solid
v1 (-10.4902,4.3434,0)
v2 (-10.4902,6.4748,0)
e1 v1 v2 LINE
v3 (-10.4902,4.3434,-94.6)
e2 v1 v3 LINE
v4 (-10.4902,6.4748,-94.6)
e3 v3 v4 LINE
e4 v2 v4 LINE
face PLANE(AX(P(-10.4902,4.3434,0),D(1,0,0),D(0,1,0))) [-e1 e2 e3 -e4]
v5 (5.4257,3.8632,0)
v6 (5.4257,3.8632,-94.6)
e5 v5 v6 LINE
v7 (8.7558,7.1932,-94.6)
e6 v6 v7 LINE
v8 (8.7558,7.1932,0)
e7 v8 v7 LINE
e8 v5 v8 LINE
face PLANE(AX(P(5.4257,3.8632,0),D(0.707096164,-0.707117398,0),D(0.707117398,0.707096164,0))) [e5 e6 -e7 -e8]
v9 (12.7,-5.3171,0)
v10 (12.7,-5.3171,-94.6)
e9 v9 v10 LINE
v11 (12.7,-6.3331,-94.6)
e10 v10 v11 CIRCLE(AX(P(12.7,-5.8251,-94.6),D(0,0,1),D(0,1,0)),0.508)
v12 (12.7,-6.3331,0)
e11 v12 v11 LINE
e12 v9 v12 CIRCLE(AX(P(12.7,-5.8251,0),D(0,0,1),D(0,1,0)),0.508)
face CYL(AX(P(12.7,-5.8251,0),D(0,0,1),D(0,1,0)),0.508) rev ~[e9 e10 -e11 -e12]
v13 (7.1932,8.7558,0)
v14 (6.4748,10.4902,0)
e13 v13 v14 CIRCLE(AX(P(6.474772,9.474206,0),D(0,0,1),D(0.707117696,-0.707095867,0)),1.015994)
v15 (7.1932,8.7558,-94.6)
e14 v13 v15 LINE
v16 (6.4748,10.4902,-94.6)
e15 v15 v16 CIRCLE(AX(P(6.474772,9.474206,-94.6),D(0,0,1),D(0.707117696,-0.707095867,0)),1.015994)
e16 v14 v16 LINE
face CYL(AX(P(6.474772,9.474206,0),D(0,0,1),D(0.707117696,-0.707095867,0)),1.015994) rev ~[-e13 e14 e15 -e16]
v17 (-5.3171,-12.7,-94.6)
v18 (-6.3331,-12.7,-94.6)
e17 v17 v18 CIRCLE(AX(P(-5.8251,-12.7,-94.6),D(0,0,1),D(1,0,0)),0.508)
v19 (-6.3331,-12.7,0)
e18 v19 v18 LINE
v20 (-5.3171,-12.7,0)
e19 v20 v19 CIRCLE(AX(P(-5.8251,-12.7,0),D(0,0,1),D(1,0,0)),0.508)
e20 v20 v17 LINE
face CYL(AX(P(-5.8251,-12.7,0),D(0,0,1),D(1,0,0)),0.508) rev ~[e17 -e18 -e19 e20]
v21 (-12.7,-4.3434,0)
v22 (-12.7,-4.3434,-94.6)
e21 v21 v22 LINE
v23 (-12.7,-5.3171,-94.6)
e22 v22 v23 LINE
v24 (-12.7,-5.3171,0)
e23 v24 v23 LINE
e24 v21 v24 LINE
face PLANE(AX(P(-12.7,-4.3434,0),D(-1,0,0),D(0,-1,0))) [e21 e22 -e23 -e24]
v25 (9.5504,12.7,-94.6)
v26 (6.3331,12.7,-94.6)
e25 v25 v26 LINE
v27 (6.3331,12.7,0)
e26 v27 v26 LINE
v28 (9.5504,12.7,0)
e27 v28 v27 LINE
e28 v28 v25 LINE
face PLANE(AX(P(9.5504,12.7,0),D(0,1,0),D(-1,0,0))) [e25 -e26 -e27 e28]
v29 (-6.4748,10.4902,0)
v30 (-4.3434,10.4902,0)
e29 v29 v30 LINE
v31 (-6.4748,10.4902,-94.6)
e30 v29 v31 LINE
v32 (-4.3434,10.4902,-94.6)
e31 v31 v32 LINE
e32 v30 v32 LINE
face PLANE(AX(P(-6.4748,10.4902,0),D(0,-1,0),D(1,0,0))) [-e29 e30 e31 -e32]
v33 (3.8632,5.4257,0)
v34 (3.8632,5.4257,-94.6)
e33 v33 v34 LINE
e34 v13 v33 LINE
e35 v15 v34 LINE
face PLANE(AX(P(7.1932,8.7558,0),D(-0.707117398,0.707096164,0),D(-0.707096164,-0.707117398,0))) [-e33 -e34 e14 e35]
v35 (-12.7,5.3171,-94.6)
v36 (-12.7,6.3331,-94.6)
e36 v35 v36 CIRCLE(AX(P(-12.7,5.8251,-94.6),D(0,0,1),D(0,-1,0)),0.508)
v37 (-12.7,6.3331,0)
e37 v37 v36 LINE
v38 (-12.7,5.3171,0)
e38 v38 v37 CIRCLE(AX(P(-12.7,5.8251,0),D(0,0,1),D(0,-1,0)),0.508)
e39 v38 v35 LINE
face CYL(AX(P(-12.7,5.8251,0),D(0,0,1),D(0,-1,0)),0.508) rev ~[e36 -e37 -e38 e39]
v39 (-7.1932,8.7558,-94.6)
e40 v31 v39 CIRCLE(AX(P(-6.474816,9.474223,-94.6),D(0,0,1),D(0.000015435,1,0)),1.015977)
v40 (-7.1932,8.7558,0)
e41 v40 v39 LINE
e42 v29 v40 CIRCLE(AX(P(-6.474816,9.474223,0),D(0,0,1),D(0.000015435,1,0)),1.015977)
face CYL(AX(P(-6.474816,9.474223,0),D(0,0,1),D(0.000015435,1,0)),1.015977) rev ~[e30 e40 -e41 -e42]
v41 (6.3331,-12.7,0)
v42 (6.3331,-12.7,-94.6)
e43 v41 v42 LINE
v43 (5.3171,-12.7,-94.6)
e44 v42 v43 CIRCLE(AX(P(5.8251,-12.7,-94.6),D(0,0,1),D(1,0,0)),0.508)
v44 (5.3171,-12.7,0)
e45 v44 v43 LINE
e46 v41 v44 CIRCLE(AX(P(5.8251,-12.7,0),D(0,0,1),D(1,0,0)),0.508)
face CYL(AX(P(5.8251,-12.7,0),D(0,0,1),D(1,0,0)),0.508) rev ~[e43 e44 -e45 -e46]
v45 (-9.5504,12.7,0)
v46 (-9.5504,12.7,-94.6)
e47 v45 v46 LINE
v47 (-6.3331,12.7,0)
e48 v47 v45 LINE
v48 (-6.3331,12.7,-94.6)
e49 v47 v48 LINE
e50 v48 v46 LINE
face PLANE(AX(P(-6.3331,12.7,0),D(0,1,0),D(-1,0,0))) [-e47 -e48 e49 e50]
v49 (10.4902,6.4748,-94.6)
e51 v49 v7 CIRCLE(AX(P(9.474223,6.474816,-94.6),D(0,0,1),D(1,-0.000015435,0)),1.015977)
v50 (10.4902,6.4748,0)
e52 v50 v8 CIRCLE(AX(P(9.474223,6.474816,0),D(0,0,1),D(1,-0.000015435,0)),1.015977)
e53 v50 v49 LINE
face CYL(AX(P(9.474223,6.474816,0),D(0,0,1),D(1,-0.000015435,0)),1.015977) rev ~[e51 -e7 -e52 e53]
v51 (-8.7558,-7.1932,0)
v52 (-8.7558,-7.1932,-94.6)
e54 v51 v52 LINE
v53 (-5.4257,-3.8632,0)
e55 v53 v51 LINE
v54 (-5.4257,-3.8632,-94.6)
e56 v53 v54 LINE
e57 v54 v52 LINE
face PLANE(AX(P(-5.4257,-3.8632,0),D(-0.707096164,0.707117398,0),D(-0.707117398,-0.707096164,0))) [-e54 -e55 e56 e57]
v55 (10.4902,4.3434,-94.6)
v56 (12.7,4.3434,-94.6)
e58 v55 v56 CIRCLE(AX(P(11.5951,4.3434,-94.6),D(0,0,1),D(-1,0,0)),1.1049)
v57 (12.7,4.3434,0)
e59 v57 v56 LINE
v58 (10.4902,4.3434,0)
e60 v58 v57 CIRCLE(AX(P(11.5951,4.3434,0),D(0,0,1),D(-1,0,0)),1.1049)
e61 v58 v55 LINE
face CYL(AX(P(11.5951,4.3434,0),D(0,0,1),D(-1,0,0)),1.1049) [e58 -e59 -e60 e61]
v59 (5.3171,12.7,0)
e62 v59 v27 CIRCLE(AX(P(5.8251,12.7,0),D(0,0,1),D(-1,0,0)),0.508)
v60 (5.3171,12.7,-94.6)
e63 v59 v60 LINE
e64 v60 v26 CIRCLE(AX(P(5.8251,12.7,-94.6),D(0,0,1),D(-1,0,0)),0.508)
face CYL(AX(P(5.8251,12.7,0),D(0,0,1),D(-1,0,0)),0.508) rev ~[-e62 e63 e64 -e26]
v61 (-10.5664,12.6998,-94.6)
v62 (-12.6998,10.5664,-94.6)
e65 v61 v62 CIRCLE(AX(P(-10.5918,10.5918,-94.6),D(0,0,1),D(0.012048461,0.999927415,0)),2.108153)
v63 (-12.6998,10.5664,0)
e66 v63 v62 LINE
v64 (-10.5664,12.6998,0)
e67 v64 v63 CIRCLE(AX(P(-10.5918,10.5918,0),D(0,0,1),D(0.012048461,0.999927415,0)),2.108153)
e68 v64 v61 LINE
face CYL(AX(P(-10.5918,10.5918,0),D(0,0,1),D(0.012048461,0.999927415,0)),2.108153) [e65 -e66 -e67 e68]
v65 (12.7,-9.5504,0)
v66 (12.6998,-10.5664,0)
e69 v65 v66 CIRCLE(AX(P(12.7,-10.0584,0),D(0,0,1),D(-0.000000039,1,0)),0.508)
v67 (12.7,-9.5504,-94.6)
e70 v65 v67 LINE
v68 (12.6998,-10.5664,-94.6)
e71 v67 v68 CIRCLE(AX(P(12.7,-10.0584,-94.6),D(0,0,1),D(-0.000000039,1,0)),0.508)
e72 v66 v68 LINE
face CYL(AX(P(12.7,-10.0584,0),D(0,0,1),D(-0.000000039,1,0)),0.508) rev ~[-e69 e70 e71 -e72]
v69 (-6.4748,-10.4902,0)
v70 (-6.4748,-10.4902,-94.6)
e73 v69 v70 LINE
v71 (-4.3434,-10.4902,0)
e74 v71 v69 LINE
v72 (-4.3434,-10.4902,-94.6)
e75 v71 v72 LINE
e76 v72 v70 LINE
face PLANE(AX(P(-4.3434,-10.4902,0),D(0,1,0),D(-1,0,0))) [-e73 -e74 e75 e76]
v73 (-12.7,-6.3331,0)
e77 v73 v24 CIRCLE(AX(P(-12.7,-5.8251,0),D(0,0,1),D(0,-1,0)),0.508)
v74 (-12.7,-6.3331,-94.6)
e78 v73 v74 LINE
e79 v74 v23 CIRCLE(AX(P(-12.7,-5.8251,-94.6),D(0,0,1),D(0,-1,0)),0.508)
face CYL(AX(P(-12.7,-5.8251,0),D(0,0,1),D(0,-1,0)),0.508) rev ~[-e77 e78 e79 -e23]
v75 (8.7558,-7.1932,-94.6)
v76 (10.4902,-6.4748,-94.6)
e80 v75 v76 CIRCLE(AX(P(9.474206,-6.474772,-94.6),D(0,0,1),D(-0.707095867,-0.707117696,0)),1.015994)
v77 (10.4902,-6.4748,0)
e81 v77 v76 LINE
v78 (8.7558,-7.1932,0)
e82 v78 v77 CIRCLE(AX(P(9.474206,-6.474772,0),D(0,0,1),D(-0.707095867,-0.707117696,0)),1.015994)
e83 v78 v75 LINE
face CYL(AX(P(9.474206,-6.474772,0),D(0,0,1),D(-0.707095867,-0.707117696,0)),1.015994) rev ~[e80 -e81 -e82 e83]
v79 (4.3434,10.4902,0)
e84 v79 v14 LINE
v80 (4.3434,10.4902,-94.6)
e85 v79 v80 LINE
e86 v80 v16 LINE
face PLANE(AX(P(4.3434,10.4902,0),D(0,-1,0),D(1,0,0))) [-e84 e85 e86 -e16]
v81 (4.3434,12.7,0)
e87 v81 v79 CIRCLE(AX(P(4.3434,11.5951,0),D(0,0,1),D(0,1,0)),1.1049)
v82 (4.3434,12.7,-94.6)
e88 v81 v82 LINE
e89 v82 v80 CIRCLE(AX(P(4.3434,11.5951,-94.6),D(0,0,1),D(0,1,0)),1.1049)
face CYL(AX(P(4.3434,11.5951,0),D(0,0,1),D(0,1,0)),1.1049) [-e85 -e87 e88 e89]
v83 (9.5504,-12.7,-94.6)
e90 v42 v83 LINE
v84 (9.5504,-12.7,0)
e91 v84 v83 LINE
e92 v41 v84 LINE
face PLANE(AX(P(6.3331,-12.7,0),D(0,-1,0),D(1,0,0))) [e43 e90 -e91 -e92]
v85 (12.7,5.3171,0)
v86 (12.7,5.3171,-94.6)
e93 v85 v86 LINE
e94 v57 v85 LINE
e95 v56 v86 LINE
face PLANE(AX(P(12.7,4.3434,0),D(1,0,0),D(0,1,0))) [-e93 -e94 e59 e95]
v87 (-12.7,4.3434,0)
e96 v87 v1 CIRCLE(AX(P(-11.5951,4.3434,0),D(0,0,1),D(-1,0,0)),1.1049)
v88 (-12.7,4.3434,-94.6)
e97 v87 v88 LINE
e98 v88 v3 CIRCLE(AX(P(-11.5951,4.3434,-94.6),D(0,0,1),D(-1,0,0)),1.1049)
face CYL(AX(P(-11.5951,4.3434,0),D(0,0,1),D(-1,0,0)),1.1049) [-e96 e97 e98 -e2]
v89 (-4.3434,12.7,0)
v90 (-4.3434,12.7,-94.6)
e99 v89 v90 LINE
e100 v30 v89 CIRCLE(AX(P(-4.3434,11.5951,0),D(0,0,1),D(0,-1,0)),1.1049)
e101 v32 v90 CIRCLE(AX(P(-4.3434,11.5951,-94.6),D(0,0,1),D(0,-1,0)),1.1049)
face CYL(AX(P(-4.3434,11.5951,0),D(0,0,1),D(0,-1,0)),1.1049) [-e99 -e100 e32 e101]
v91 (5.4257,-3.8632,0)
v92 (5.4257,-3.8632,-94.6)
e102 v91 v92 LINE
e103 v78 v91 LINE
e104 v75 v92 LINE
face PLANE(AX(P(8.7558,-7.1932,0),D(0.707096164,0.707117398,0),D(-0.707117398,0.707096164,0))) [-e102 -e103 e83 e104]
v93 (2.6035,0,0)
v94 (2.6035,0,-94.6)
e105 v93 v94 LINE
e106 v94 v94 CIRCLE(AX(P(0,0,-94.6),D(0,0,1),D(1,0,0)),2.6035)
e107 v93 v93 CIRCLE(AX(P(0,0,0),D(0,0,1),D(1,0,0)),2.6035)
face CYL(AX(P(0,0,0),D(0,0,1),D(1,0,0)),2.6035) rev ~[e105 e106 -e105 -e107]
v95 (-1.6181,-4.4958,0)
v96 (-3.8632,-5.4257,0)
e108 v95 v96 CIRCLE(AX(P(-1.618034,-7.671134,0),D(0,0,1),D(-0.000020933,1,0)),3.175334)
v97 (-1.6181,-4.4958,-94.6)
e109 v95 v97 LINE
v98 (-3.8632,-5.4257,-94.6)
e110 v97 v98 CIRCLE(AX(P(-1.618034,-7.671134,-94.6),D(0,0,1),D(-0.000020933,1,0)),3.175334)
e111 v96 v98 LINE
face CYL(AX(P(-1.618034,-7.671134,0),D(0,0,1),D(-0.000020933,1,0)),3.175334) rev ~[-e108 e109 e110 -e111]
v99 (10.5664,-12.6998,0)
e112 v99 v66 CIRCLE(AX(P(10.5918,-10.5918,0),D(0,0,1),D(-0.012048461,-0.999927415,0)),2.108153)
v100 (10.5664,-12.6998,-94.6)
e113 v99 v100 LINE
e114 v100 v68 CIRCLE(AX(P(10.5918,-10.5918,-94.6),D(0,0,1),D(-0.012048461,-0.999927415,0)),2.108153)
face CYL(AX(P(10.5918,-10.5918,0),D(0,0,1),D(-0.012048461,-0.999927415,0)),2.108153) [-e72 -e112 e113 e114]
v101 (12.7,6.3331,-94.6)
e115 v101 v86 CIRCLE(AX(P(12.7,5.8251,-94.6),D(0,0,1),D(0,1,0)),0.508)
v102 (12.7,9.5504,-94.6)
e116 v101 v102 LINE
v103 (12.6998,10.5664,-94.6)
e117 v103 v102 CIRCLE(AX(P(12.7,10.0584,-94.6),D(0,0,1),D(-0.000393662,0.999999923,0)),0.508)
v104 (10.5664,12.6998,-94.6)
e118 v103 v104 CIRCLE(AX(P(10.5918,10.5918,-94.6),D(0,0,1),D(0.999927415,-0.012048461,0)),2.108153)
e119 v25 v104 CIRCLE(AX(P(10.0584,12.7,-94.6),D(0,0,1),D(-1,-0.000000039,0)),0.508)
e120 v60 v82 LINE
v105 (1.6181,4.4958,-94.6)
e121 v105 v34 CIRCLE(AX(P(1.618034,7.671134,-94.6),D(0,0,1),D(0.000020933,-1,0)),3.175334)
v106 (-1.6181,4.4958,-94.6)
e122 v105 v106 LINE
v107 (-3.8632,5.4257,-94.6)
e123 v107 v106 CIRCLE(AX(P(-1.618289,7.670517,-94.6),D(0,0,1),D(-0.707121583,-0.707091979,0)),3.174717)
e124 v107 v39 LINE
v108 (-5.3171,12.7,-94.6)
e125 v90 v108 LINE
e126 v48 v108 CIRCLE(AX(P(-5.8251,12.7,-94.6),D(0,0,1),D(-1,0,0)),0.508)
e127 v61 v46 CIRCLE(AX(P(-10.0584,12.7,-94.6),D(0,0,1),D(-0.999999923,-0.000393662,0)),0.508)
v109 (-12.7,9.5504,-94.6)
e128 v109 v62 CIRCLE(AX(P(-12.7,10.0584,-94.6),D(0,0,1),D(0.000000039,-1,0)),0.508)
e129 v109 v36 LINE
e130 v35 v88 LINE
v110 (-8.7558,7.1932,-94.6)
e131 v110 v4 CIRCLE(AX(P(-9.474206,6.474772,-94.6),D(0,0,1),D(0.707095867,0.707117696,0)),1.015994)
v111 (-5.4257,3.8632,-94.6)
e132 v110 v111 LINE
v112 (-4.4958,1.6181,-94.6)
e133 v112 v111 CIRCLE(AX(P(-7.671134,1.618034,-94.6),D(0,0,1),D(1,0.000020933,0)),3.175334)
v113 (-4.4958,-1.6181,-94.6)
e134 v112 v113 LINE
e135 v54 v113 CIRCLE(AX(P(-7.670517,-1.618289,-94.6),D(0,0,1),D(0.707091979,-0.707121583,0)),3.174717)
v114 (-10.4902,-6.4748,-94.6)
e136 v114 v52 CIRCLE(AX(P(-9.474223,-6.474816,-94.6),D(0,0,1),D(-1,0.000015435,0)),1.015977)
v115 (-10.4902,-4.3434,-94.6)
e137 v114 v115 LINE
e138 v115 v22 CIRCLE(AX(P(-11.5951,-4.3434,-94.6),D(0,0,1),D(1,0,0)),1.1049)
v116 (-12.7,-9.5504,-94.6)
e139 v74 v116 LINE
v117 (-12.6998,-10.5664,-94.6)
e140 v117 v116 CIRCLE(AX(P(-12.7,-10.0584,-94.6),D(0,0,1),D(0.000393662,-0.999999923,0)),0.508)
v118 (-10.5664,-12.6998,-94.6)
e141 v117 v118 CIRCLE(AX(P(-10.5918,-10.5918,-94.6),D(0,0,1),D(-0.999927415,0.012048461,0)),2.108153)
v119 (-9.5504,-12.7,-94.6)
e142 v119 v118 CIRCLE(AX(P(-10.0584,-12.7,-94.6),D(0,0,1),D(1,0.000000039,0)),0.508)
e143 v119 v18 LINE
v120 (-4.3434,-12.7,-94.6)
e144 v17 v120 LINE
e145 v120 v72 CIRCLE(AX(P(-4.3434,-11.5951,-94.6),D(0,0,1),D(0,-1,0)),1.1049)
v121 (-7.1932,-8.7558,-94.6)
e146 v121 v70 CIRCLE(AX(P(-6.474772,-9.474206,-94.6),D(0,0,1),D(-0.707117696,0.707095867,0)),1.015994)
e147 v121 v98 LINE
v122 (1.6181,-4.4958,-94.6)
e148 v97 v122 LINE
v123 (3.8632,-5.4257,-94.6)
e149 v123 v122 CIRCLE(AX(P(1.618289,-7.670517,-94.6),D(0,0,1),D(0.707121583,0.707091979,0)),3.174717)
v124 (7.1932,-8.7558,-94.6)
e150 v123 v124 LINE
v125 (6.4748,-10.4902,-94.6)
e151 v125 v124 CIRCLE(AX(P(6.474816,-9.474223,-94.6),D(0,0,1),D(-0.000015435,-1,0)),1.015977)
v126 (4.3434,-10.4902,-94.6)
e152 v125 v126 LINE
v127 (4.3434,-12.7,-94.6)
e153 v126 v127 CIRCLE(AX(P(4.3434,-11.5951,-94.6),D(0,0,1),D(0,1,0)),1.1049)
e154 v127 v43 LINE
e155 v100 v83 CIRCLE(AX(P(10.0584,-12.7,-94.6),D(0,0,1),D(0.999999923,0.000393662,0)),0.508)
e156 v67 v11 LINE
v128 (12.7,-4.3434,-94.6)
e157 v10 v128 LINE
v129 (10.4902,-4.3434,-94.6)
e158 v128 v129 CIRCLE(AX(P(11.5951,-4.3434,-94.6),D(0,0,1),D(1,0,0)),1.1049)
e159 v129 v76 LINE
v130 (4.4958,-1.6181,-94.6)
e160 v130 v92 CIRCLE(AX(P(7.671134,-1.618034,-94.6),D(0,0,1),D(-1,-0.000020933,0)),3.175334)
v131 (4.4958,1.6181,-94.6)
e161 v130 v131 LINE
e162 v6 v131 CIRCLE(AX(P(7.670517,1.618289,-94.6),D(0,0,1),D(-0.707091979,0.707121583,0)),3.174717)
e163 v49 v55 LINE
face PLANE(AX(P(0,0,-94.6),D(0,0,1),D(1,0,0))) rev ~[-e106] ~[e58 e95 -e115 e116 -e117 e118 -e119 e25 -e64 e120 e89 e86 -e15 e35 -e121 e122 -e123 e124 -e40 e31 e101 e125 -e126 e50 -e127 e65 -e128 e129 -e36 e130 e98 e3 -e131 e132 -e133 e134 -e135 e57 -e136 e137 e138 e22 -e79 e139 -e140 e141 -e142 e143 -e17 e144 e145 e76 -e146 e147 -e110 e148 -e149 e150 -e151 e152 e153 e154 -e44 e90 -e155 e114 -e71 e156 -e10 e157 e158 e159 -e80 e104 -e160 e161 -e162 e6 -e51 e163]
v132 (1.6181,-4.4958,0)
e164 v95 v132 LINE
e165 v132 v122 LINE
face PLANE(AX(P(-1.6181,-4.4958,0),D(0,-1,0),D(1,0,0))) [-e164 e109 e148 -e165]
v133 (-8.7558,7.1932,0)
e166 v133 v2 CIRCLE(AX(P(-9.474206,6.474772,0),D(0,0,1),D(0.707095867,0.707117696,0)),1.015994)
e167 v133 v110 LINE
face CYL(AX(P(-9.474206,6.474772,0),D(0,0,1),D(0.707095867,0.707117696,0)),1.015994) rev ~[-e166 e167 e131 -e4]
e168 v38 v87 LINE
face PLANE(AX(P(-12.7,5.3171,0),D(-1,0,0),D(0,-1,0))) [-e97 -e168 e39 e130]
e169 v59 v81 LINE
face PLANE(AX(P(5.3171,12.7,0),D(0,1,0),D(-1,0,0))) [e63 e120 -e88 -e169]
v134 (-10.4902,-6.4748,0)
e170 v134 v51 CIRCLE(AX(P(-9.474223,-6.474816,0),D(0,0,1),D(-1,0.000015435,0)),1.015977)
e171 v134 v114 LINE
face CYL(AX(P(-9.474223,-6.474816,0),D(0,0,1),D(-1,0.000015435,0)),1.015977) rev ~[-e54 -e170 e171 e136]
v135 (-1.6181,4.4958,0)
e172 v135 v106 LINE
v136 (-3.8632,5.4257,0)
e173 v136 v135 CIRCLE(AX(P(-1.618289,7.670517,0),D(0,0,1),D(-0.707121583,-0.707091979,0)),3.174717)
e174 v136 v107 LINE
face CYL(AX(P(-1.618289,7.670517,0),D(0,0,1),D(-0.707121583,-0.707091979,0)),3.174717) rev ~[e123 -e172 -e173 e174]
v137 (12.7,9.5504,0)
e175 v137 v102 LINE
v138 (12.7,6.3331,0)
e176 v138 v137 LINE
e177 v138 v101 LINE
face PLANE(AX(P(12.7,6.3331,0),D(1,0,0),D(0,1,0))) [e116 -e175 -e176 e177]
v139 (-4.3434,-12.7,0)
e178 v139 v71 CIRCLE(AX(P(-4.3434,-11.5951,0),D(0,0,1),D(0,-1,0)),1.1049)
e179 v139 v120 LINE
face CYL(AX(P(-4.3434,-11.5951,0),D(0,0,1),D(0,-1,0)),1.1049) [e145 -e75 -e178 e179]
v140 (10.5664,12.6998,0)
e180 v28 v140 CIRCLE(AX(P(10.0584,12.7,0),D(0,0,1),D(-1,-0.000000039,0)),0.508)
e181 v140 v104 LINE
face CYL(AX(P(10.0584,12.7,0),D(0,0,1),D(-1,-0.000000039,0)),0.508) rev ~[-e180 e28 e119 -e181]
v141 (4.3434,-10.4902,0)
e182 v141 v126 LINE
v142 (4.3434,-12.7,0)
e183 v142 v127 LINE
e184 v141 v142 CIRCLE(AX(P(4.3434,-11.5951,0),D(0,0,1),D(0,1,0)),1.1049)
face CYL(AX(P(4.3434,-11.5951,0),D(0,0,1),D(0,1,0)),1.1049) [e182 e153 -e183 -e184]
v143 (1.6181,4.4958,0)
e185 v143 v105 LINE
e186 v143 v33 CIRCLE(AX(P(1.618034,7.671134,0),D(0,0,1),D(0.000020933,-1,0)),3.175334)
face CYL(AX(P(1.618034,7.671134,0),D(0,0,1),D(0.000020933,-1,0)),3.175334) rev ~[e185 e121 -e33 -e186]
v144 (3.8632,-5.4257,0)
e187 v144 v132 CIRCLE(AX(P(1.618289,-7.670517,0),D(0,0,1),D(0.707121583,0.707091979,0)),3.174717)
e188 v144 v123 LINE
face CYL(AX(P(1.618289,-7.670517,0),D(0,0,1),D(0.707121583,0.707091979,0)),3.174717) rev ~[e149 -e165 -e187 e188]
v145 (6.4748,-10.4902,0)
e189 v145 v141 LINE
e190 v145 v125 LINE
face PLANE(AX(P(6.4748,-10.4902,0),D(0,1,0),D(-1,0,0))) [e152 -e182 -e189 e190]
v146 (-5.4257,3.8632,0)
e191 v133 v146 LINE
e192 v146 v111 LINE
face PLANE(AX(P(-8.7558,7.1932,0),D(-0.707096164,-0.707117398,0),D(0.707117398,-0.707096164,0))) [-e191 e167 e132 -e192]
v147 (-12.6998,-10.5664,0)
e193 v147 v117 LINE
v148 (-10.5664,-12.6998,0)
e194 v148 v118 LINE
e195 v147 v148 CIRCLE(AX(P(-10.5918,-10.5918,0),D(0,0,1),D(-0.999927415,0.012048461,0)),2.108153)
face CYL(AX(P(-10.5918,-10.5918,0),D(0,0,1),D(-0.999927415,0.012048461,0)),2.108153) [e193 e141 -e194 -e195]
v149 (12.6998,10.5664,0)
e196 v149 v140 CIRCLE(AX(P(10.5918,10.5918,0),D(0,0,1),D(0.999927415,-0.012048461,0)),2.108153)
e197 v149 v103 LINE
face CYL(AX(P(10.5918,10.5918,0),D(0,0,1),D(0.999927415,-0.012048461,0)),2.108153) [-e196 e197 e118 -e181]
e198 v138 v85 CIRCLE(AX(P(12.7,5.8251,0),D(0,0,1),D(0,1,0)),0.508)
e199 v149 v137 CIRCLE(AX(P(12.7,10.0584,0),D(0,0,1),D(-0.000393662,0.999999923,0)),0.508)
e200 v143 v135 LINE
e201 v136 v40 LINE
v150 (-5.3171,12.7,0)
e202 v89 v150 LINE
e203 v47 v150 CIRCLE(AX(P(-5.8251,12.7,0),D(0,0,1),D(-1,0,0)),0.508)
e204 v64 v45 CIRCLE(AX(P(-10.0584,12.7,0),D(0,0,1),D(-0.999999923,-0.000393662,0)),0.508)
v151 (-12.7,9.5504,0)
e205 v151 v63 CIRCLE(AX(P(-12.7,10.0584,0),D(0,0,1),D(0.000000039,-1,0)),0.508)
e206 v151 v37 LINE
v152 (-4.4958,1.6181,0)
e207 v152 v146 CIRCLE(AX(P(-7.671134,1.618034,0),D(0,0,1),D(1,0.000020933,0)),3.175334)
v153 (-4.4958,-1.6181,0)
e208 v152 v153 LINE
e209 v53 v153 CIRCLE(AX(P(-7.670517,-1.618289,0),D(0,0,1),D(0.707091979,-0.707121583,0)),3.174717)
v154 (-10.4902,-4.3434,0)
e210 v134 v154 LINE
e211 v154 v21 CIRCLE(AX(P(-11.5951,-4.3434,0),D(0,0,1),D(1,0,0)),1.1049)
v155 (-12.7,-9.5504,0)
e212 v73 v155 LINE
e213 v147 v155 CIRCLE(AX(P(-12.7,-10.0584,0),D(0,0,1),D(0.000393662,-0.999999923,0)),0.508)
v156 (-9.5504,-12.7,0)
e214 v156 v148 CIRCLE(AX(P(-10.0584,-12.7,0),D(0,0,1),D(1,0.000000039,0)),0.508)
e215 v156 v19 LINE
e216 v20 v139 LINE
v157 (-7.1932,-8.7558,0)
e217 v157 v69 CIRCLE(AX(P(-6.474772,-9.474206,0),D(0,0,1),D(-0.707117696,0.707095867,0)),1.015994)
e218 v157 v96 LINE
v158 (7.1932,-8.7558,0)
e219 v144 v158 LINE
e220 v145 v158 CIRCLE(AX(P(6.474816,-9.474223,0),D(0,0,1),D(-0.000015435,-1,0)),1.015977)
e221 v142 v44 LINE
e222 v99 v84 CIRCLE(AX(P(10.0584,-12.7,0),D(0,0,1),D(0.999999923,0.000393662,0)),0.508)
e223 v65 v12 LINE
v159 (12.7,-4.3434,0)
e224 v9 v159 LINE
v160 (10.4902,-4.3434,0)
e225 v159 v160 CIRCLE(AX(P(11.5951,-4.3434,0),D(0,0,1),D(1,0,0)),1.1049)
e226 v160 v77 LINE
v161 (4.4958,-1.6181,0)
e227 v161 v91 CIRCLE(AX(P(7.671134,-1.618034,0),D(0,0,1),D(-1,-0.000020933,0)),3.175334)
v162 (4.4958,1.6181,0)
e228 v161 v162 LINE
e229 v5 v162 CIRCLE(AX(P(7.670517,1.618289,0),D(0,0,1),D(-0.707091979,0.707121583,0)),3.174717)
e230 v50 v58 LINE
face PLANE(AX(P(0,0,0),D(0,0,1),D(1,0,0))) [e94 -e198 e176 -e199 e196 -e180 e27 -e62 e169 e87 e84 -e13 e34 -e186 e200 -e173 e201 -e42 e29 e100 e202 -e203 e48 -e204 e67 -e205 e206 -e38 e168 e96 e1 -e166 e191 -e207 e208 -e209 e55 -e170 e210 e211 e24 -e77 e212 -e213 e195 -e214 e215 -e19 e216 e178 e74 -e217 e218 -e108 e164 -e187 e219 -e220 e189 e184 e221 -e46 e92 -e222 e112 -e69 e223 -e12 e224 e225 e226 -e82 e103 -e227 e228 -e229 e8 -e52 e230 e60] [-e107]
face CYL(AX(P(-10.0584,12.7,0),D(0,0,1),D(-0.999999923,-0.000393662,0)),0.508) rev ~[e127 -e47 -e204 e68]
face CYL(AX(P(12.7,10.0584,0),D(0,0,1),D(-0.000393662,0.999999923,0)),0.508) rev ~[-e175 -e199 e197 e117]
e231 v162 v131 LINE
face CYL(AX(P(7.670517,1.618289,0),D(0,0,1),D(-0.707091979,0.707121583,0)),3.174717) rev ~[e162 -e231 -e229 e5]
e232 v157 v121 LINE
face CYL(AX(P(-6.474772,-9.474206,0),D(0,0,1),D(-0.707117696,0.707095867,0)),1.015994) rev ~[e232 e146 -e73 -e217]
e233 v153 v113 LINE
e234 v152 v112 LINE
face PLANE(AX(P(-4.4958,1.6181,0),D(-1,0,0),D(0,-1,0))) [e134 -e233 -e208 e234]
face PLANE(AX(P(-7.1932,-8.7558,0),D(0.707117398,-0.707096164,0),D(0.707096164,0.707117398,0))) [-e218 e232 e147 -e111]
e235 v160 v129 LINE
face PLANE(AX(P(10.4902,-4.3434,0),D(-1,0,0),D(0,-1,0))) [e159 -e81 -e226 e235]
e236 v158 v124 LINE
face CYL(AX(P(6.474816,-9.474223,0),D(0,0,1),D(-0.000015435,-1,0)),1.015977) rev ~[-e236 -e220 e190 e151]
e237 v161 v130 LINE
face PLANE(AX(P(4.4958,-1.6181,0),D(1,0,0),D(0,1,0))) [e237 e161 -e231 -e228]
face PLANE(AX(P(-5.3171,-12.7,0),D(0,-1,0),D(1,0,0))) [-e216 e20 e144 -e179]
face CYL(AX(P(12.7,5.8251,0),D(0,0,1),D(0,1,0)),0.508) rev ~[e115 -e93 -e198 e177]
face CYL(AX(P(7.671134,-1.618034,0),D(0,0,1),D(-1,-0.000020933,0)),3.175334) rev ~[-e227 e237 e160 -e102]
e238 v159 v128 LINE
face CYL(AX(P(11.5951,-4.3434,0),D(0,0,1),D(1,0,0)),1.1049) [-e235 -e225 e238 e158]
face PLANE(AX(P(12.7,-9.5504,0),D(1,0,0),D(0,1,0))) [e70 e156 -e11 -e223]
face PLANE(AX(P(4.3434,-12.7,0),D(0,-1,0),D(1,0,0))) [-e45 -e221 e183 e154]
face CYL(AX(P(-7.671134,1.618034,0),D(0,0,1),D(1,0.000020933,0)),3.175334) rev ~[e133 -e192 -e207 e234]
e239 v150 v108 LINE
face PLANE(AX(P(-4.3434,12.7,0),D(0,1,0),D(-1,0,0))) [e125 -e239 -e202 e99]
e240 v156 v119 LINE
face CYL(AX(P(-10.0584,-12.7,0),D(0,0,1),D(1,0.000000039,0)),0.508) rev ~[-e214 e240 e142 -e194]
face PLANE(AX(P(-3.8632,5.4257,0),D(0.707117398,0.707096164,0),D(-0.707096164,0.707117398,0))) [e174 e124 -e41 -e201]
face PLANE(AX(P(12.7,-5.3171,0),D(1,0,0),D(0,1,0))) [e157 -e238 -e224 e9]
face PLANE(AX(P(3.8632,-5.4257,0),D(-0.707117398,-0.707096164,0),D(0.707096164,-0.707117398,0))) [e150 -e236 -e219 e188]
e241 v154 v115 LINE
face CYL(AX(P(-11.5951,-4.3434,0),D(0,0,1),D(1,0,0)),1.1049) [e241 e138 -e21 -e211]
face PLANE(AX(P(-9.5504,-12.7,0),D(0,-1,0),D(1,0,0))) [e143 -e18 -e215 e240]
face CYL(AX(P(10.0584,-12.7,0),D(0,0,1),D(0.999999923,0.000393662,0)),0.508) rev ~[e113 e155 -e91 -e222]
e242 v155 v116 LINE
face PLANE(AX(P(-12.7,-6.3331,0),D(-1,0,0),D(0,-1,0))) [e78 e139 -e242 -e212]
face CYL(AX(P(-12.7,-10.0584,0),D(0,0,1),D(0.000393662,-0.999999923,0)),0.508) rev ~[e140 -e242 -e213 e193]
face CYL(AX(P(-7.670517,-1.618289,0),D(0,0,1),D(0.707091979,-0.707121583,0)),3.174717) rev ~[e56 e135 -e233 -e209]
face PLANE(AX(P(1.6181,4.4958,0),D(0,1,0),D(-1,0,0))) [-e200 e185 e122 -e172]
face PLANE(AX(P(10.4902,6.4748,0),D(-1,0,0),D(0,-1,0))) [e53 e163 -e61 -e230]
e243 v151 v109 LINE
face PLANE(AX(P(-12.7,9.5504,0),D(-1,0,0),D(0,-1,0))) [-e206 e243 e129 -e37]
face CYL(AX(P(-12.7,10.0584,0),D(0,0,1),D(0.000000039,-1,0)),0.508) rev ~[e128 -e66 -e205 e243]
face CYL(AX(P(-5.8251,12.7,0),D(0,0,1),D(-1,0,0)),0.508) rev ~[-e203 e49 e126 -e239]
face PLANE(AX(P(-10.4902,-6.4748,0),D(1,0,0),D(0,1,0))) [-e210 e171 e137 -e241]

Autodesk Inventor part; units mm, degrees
sketch "Sketch_1" plane through (0, 0, 0) normal (0, 0, 1) x (1, 0, 0)
  arc A0 (-12.6998, -10.5664) -> (-10.5664, -12.6998) centre (-10.5918, -10.5918) ccw
  arc A1 (-9.5504, -12.7) -> (-10.5664, -12.6998) centre (-10.0584, -12.7) ccw
  line L0 (-9.5504, -12.7) -> (-6.3331, -12.7)
  arc A2 (-5.3171, -12.7) -> (-6.3331, -12.7) centre (-5.8251, -12.7) ccw
  line L1 (-5.3171, -12.7) -> (-4.3434, -12.7)
  arc A3 (-4.3434, -12.7) -> (-4.3434, -10.4902) centre (-4.3434, -11.5951) ccw
  line L2 (-4.3434, -10.4902) -> (-6.4748, -10.4902)
  arc A4 (-7.1932, -8.7558) -> (-6.4748, -10.4902) centre (-6.4748, -9.4742) ccw
  line L3 (-7.1932, -8.7558) -> (-3.8632, -5.4257)
  arc A5 (-1.6181, -4.4958) -> (-3.8632, -5.4257) centre (-1.6181, -7.6708) ccw
  line L4 (-1.6181, -4.4958) -> (1.6181, -4.4958)
  arc A6 (3.8632, -5.4257) -> (1.6181, -4.4958) centre (1.6181, -7.6708) ccw
  line L5 (3.8632, -5.4257) -> (7.1932, -8.7558)
  arc A7 (6.4748, -10.4902) -> (7.1932, -8.7558) centre (6.4748, -9.4742) ccw
  line L6 (6.4748, -10.4902) -> (4.3434, -10.4902)
  arc A8 (4.3434, -10.4902) -> (4.3434, -12.7) centre (4.3434, -11.5951) ccw
  line L7 (4.3434, -12.7) -> (5.3171, -12.7)
  arc A9 (6.3331, -12.7) -> (5.3171, -12.7) centre (5.8251, -12.7) ccw
  line L8 (6.3331, -12.7) -> (9.5504, -12.7)
  arc A10 (10.5664, -12.6998) -> (9.5504, -12.7) centre (10.0584, -12.7) ccw
  arc A11 (10.5664, -12.6998) -> (12.6998, -10.5664) centre (10.5918, -10.5918) ccw
  arc A12 (12.7, -9.5504) -> (12.6998, -10.5664) centre (12.7, -10.0584) ccw
  line L9 (12.7, -9.5504) -> (12.7, -6.3331)
  arc A13 (12.7, -5.3171) -> (12.7, -6.3331) centre (12.7, -5.8251) ccw
  line L10 (12.7, -5.3171) -> (12.7, -4.3434)
  arc A14 (12.7, -4.3434) -> (10.4902, -4.3434) centre (11.5951, -4.3434) ccw
  line L11 (10.4902, -4.3434) -> (10.4902, -6.4748)
  arc A15 (8.7558, -7.1932) -> (10.4902, -6.4748) centre (9.4742, -6.4748) ccw
  line L12 (8.7558, -7.1932) -> (5.4257, -3.8632)
  arc A16 (4.4958, -1.6181) -> (5.4257, -3.8632) centre (7.6708, -1.6181) ccw
  line L13 (4.4958, -1.6181) -> (4.4958, 1.6181)
  arc A17 (5.4257, 3.8632) -> (4.4958, 1.6181) centre (7.6708, 1.6181) ccw
  line L14 (5.4257, 3.8632) -> (8.7558, 7.1932)
  arc A18 (10.4902, 6.4748) -> (8.7558, 7.1932) centre (9.4742, 6.4748) ccw
  line L15 (10.4902, 6.4748) -> (10.4902, 4.3434)
  arc A19 (10.4902, 4.3434) -> (12.7, 4.3434) centre (11.5951, 4.3434) ccw
  line L16 (12.7, 4.3434) -> (12.7, 5.3171)
  arc A20 (12.7, 6.3331) -> (12.7, 5.3171) centre (12.7, 5.8251) ccw
  line L17 (12.7, 6.3331) -> (12.7, 9.5504)
  arc A21 (12.6998, 10.5664) -> (12.7, 9.5504) centre (12.7, 10.0584) ccw
  arc A22 (12.6998, 10.5664) -> (10.5664, 12.6998) centre (10.5918, 10.5918) ccw
  arc A23 (9.5504, 12.7) -> (10.5664, 12.6998) centre (10.0584, 12.7) ccw
  line L18 (9.5504, 12.7) -> (6.3331, 12.7)
  arc A24 (5.3171, 12.7) -> (6.3331, 12.7) centre (5.8251, 12.7) ccw
  line L19 (5.3171, 12.7) -> (4.3434, 12.7)
  arc A25 (4.3434, 12.7) -> (4.3434, 10.4902) centre (4.3434, 11.5951) ccw
  line L20 (4.3434, 10.4902) -> (6.4748, 10.4902)
  arc A26 (7.1932, 8.7558) -> (6.4748, 10.4902) centre (6.4748, 9.4742) ccw
  line L21 (7.1932, 8.7558) -> (3.8632, 5.4257)
  arc A27 (1.6181, 4.4958) -> (3.8632, 5.4257) centre (1.6181, 7.6708) ccw
  line L22 (1.6181, 4.4958) -> (-1.6181, 4.4958)
  arc A28 (-3.8632, 5.4257) -> (-1.6181, 4.4958) centre (-1.6181, 7.6708) ccw
  line L23 (-3.8632, 5.4257) -> (-7.1932, 8.7558)
  arc A29 (-6.4748, 10.4902) -> (-7.1932, 8.7558) centre (-6.4748, 9.4742) ccw
  line L24 (-6.4748, 10.4902) -> (-4.3434, 10.4902)
  arc A30 (-4.3434, 10.4902) -> (-4.3434, 12.7) centre (-4.3434, 11.5951) ccw
  line L25 (-4.3434, 12.7) -> (-5.3171, 12.7)
  arc A31 (-6.3331, 12.7) -> (-5.3171, 12.7) centre (-5.8251, 12.7) ccw
  line L26 (-6.3331, 12.7) -> (-9.5504, 12.7)
  arc A32 (-10.5664, 12.6998) -> (-9.5504, 12.7) centre (-10.0584, 12.7) ccw
  arc A33 (-10.5664, 12.6998) -> (-12.6998, 10.5664) centre (-10.5918, 10.5918) ccw
  arc A34 (-12.7, 9.5504) -> (-12.6998, 10.5664) centre (-12.7, 10.0584) ccw
  line L27 (-12.7, 9.5504) -> (-12.7, 6.3331)
  arc A35 (-12.7, 5.3171) -> (-12.7, 6.3331) centre (-12.7, 5.8251) ccw
  line L28 (-12.7, 5.3171) -> (-12.7, 4.3434)
  arc A36 (-12.7, 4.3434) -> (-10.4902, 4.3434) centre (-11.5951, 4.3434) ccw
  line L29 (-10.4902, 4.3434) -> (-10.4902, 6.4748)
  arc A37 (-8.7558, 7.1932) -> (-10.4902, 6.4748) centre (-9.4742, 6.4748) ccw
  line L30 (-8.7558, 7.1932) -> (-5.4257, 3.8632)
  arc A38 (-4.4958, 1.6181) -> (-5.4257, 3.8632) centre (-7.6708, 1.6181) ccw
  line L31 (-4.4958, 1.6181) -> (-4.4958, -1.6181)
  arc A39 (-5.4257, -3.8632) -> (-4.4958, -1.6181) centre (-7.6708, -1.6181) ccw
  line L32 (-5.4257, -3.8632) -> (-8.7558, -7.1932)
  arc A40 (-10.4902, -6.4748) -> (-8.7558, -7.1932) centre (-9.4742, -6.4748) ccw
  line L33 (-10.4902, -6.4748) -> (-10.4902, -4.3434)
  arc A41 (-10.4902, -4.3434) -> (-12.7, -4.3434) centre (-11.5951, -4.3434) ccw
  line L34 (-12.7, -4.3434) -> (-12.7, -5.3171)
  arc A42 (-12.7, -6.3331) -> (-12.7, -5.3171) centre (-12.7, -5.8251) ccw
  line L35 (-12.7, -6.3331) -> (-12.7, -9.5504)
  arc A43 (-12.6998, -10.5664) -> (-12.7, -9.5504) centre (-12.7, -10.0584) ccw
  circle A44 centre (0, 0) radius 2.6035
extrude "Extrusion1" add sketch "Sketch_1" against normal blind 94.6
ref_plane "b1_XY" through (-12.7, 0, -12.7) normal (1, 0, 0) x (0, 0, -1)
ref_plane "b1_YZ" through (-12.7, 0, -12.7) normal (0, 0, -1) x (0, 1, 0)
ref_plane "b1_ZX" through (-12.7, 0, -12.7) normal (0, 1, 0) x (1, 0, 0)
ref_plane "b2_XY" through (12.7, 0, -12.7) normal (1, 0, 0) x (0, 0, -1)
ref_plane "b2_YZ" through (12.7, 0, -12.7) normal (0, 0, -1) x (0, 1, 0)
ref_plane "b2_ZX" through (12.7, 0, -12.7) normal (0, 1, 0) x (1, 0, 0)
ref_plane "profile1010_XY" through (0, 0, -12.7) normal (0, 0, 1) x (1, 0, 0)
ref_plane "profile1010_YZ" through (0, 0, -12.7) normal (1, 0, 0) x (0, 1, 0)
ref_plane "profile1010_ZX" through (0, 0, -12.7) normal (0, 1, 0) x (0, 0, 1)
properties part number "1010_94_6mm"
